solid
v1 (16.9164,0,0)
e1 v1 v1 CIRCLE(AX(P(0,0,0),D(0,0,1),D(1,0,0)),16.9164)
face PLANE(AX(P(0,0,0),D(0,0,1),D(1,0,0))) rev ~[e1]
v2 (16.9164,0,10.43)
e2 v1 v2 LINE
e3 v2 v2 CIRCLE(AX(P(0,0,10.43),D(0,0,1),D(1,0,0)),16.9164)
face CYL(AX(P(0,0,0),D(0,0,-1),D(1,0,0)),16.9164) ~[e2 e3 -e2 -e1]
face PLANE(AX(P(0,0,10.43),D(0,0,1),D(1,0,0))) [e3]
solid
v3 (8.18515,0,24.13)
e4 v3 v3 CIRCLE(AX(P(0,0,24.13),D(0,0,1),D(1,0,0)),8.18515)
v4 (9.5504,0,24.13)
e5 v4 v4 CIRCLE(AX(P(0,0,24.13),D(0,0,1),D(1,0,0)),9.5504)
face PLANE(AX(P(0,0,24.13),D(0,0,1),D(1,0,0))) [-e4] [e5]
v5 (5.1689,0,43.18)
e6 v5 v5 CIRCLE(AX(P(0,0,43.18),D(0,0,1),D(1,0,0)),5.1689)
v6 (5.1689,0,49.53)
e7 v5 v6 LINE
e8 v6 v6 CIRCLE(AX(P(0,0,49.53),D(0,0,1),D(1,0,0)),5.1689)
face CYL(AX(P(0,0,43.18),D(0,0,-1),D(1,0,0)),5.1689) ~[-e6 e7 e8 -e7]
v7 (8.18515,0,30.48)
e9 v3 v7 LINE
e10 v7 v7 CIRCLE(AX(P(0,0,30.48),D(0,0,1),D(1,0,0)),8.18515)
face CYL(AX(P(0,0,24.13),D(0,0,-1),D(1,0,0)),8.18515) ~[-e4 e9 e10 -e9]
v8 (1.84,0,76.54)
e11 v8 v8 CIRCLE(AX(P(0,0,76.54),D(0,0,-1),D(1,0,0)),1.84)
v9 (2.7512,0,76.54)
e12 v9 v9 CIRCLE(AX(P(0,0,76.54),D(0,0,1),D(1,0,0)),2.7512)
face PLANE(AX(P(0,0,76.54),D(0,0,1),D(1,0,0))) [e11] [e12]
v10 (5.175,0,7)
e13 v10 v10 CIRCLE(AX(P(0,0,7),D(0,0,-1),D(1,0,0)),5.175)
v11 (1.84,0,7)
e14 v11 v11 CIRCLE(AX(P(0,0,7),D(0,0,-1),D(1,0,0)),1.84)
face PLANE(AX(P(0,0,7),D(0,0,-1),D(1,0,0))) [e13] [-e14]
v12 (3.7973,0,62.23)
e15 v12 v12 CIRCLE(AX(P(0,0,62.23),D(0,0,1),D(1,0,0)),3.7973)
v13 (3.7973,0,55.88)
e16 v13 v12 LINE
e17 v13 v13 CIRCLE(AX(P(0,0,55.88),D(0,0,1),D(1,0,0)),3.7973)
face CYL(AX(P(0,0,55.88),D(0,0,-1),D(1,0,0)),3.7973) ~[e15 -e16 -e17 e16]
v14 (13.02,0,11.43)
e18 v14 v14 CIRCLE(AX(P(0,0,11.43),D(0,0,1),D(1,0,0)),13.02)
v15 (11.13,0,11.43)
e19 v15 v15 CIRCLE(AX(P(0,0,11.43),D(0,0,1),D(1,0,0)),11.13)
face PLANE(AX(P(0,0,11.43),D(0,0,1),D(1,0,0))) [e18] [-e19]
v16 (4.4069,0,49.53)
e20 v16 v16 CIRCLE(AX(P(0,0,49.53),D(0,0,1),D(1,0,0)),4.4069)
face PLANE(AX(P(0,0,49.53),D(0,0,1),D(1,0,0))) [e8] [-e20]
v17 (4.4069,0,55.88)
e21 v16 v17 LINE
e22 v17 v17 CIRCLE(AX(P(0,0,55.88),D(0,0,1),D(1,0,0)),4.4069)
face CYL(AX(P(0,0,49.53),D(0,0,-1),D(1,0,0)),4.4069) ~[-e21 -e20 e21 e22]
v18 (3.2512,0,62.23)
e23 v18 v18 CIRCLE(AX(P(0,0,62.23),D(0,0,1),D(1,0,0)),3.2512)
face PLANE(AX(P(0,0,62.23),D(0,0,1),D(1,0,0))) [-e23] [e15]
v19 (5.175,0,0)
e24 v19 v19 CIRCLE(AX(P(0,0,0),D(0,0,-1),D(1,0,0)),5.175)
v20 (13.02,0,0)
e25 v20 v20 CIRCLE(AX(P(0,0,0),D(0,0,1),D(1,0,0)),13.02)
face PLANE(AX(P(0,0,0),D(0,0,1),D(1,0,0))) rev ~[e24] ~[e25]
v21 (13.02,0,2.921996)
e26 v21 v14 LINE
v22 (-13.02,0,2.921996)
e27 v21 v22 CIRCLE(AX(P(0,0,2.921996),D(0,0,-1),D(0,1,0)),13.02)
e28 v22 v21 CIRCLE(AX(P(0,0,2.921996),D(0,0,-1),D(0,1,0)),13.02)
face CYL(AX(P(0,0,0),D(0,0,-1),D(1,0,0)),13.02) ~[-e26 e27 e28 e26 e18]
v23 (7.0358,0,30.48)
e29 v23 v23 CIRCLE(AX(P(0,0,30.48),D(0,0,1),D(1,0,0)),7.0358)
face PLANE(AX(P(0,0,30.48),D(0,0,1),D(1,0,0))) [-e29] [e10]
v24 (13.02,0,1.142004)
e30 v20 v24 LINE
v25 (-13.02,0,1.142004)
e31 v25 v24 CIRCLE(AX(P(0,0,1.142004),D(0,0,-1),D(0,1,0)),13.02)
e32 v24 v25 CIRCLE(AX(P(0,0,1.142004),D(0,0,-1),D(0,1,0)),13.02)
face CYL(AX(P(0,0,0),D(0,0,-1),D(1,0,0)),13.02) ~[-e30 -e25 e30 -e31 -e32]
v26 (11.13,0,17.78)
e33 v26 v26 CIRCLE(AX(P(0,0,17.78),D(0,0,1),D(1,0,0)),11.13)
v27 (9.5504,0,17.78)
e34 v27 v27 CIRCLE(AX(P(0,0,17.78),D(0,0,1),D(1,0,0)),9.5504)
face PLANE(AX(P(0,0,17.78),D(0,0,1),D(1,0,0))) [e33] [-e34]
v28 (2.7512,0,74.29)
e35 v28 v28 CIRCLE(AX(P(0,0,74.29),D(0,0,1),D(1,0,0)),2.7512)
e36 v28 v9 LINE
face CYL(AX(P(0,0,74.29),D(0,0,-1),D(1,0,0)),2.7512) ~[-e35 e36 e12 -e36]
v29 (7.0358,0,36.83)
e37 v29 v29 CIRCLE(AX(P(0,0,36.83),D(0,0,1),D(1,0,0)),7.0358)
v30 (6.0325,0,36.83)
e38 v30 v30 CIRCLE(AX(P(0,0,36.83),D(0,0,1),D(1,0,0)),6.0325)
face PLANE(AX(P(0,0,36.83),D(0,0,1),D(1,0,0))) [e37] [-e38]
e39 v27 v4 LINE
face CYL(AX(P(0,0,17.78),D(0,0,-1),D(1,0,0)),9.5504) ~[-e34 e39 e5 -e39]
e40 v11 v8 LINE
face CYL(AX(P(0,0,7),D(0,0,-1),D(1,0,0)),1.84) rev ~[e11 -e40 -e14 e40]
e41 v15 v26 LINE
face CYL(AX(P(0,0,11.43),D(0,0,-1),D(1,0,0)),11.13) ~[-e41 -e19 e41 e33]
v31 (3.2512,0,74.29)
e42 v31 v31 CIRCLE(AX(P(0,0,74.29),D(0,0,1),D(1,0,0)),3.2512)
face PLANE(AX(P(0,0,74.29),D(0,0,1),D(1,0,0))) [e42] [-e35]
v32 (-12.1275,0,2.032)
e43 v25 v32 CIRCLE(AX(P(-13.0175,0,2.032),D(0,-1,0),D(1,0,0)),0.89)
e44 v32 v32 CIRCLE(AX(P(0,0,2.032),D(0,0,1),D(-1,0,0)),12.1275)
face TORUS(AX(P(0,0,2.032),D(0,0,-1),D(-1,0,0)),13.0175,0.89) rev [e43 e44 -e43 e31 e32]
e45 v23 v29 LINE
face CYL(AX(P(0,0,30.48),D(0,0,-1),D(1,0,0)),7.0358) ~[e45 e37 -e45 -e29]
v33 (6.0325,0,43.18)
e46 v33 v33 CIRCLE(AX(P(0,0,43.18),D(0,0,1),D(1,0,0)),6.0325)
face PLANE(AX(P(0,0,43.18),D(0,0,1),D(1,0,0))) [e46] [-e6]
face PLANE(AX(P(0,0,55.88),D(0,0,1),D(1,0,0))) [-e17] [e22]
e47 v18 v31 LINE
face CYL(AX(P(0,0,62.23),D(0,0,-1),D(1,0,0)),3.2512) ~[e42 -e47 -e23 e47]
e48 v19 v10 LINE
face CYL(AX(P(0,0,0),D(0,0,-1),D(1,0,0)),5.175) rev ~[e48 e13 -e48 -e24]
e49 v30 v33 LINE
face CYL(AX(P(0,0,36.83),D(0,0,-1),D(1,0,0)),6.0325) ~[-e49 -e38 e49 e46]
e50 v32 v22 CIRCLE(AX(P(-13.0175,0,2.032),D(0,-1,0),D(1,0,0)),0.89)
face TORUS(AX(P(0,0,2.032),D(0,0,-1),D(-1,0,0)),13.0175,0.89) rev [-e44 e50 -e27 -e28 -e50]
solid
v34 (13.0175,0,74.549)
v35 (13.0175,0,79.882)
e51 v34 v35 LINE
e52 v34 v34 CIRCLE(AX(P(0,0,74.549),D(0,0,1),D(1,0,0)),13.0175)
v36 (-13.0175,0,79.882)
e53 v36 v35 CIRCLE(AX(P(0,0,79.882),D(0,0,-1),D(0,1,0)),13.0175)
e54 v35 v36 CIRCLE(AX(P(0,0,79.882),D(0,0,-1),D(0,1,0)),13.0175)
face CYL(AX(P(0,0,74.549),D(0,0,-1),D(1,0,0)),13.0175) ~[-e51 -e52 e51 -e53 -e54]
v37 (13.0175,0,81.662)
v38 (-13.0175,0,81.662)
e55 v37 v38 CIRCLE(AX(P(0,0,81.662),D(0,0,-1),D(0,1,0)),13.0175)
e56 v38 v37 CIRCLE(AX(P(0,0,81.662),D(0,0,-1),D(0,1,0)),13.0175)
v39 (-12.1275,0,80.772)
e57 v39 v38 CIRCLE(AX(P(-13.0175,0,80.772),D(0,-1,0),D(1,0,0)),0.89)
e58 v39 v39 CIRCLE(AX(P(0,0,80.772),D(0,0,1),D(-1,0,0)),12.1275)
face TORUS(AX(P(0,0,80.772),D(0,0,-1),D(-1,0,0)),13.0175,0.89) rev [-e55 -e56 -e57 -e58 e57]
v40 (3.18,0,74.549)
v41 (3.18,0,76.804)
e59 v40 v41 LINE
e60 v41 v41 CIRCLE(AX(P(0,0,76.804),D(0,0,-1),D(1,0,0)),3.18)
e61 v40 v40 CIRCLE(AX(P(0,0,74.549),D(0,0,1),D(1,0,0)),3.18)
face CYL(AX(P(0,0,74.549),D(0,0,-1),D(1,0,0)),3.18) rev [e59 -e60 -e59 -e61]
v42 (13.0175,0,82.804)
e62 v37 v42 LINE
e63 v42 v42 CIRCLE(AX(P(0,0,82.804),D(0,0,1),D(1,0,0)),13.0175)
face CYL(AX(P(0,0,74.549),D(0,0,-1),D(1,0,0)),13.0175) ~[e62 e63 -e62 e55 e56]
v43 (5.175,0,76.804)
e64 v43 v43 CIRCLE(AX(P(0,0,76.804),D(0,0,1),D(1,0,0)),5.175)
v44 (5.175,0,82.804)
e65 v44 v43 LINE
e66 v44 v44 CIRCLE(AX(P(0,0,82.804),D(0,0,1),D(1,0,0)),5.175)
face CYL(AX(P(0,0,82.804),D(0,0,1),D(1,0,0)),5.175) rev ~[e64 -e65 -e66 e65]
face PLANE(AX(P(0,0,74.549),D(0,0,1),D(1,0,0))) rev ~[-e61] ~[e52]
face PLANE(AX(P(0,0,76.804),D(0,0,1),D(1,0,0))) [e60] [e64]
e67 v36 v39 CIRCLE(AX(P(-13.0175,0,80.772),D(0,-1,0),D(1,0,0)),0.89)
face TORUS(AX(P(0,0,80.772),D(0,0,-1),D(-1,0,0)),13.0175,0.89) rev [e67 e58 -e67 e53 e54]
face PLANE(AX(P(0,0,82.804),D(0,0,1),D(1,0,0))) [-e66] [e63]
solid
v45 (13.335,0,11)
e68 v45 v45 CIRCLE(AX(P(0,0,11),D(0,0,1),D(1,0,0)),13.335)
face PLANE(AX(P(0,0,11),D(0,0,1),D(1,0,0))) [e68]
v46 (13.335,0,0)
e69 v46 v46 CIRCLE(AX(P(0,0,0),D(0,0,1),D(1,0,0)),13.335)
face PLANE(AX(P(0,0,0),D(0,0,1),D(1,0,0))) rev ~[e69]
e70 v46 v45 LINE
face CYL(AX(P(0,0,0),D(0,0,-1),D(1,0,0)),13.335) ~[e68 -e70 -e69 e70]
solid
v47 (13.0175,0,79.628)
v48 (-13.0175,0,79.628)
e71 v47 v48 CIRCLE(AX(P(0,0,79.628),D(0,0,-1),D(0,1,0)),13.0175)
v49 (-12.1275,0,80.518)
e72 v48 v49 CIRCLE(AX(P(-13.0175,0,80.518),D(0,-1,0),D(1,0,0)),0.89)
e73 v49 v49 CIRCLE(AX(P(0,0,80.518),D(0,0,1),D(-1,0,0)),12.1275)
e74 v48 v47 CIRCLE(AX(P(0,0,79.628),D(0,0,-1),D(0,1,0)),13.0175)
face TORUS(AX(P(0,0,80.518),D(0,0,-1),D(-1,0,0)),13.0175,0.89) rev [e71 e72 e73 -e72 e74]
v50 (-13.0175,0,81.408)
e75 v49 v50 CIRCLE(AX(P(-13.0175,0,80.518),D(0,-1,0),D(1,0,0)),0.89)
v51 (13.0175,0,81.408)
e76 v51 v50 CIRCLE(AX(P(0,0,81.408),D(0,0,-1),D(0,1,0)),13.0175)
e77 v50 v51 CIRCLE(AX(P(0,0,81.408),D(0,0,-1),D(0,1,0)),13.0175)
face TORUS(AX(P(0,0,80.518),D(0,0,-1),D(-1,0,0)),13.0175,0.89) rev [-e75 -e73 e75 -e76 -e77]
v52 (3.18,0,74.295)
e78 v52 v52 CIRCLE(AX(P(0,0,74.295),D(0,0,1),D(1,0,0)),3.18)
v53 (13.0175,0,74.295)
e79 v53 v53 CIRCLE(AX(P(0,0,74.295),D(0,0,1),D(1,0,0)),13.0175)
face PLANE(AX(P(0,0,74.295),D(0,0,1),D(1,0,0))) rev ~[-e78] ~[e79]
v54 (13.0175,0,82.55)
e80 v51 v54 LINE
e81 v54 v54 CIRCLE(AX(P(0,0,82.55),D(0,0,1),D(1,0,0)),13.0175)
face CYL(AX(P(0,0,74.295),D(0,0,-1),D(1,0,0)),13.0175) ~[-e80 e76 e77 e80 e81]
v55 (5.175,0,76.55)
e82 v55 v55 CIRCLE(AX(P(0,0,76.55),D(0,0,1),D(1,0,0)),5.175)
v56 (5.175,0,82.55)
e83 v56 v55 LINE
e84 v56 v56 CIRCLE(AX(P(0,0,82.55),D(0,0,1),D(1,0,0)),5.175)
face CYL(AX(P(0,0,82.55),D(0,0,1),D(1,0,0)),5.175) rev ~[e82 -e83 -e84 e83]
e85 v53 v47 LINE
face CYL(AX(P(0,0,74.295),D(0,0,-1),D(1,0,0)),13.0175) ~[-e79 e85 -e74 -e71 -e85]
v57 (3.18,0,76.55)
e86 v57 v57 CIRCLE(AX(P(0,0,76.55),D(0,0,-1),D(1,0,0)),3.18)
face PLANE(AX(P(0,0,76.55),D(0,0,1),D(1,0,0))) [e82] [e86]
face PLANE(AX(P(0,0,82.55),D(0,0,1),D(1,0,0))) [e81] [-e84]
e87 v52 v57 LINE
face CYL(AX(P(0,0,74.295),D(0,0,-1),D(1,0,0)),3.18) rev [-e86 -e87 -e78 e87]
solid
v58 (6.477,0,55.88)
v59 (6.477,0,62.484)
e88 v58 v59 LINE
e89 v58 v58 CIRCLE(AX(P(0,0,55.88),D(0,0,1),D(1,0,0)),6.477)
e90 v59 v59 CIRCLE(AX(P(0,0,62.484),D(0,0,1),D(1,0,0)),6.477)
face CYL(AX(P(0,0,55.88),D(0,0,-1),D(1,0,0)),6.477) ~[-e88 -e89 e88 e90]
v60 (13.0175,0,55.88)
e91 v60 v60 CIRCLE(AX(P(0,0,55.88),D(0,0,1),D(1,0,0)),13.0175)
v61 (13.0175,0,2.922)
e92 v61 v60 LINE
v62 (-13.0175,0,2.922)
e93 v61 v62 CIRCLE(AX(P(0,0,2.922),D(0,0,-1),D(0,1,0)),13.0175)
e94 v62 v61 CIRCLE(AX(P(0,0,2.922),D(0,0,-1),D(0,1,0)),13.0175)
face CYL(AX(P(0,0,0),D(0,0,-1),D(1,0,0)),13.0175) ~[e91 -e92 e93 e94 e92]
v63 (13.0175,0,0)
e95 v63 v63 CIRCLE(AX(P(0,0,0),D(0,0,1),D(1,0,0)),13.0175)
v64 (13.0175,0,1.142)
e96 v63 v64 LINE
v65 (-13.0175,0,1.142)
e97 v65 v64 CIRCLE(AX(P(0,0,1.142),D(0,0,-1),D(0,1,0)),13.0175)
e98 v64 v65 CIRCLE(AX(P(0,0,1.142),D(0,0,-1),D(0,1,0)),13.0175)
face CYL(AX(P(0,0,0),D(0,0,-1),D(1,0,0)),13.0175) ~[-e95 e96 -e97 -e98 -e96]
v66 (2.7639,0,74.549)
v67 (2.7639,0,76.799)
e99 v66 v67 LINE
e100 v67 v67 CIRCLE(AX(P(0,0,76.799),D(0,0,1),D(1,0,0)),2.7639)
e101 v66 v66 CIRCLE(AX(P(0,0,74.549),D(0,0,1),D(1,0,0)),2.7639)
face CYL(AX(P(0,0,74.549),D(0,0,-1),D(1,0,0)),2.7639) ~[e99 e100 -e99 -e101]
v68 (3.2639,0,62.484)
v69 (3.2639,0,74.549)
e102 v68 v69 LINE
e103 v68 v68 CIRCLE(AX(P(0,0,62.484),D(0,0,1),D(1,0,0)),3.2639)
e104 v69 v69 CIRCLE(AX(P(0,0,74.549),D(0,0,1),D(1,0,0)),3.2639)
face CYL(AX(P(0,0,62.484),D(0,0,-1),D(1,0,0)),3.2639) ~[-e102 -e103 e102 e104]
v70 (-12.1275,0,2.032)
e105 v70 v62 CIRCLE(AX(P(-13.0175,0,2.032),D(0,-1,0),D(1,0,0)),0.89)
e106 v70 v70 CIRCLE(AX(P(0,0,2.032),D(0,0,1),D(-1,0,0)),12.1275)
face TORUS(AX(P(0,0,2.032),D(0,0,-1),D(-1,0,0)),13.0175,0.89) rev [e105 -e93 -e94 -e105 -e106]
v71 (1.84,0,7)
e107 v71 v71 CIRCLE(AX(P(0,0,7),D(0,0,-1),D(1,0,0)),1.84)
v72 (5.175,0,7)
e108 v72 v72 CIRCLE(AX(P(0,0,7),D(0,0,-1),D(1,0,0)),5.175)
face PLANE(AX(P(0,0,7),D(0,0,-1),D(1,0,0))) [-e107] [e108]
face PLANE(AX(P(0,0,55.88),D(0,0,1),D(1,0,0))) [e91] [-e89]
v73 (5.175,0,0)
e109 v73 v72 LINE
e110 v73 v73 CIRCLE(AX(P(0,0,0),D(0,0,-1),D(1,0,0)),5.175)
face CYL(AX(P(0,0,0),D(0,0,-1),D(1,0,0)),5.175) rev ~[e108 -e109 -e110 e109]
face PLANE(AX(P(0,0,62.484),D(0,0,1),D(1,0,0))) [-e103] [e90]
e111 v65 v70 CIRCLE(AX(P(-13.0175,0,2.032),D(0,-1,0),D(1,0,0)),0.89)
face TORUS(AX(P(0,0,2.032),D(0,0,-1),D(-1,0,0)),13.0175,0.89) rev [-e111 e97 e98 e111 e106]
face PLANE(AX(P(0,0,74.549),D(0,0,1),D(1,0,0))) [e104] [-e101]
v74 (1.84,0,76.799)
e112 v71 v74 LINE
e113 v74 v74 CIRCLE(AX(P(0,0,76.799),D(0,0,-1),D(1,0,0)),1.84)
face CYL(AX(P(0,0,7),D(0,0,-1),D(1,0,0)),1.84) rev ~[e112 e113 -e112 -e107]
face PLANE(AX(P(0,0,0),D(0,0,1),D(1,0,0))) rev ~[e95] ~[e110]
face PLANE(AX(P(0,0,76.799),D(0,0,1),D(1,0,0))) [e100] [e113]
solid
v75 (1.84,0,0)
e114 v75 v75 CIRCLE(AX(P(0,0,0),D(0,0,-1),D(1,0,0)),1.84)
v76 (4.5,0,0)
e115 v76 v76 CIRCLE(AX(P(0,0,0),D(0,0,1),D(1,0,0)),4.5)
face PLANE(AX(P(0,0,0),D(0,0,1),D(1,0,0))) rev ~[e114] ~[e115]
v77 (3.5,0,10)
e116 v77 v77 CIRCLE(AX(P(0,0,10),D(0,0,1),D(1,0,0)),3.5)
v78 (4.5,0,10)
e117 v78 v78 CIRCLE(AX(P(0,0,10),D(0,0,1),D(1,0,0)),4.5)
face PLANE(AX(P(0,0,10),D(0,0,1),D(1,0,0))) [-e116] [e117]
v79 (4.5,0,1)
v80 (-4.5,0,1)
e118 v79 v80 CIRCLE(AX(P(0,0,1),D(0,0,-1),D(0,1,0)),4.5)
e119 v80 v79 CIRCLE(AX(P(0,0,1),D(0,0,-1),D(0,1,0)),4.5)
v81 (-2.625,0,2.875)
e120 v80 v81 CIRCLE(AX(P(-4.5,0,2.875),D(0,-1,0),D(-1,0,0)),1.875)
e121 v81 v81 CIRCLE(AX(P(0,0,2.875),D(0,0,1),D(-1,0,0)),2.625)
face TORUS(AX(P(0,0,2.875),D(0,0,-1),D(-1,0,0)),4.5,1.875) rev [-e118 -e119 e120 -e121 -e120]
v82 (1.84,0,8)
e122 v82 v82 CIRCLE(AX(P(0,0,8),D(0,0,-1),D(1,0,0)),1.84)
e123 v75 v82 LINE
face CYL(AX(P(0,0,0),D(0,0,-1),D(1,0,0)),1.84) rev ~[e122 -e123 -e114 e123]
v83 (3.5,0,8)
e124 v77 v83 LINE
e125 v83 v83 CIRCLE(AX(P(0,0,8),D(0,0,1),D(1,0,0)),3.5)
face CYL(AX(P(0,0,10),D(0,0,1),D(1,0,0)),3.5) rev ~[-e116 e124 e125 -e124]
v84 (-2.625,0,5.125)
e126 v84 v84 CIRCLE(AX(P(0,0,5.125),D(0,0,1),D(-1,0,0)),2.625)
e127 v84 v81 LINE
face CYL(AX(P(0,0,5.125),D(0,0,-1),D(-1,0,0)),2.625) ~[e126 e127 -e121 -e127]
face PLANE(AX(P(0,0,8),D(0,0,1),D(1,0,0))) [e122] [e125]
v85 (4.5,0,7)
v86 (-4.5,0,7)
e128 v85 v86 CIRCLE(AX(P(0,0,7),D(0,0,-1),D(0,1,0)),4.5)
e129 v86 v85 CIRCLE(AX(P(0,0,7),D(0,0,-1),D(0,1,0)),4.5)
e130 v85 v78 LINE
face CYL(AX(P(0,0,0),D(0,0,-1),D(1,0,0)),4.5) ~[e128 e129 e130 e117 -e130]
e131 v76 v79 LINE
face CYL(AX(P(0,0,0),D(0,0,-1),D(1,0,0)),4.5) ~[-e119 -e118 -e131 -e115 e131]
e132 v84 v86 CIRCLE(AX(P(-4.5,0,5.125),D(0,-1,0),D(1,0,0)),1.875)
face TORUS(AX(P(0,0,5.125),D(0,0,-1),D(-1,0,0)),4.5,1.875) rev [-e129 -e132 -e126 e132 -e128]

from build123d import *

# Parameters (mm, degrees)
SKETCH_R        = 13.02
PAD_DEPTH       = 11.43
SKETCH001_R     = 11.13
PAD001_DEPTH    = 6.35
SKETCH002_R     = 9.5504
PAD002_DEPTH    = 6.35
SKETCH003_R     = 8.18515
PAD003_DEPTH    = 6.35
SKETCH004_R     = 7.0358
PAD004_DEPTH    = 6.35
SKETCH005_R     = 6.0325
PAD005_DEPTH    = 6.35
SKETCH006_R     = 5.1689
PAD006_DEPTH    = 6.35
SKETCH007_R     = 4.4069
PAD007_DEPTH    = 6.35
SKETCH008_R     = 3.7973
PAD008_DEPTH    = 6.35
SKETCH009_R     = 3.2512
PAD009_DEPTH    = 12.06
SKETCH010_R     = 2.7512
PAD010_DEPTH    = 2.25
SKETCH011_R     = 5.175
POCKET_DEPTH    = 7
SKETCH012_R     = 1.84
POCKET001_DEPTH = 69.541
SKETCH015_R     = 0.89
SKETCH013_R     = 13.0175
SKETCH013_R_2   = 3.18
PAD011_DEPTH    = 8.255
SKETCH014_R     = 5.175
POCKET002_DEPTH = 6
SKETCH016_R     = 0.89
SKETCH017_R     = 13.0175
PAD012_DEPTH    = 55.88
SKETCH018_R     = 6.477
PAD013_DEPTH    = 6.604
SKETCH019_R     = 3.2639
PAD014_DEPTH    = 12.065
SKETCH020_R     = 2.7639
PAD015_DEPTH    = 2.25
SKETCH021_R     = 5.175
POCKET003_DEPTH = 7
SKETCH022_R     = 1.84
POCKET004_DEPTH = 69.8
SKETCH023_R     = 0.89
SKETCH024_R     = 13.0175
SKETCH024_R_2   = 3.18
PAD016_DEPTH    = 8.255
SKETCH025_R     = 5.175
POCKET005_DEPTH = 6
SKETCH026_R     = 0.89
SKETCH027_R     = 13.335
PAD017_DEPTH    = 11
SKETCH033_R     = 16.9164
PAD019_DEPTH    = 10.43
SKETCH038_R     = 4.5
PAD021_DEPTH    = 10
SKETCH039_R     = 1.84
POCKET010_DEPTH = 10.001
SKETCH040_R     = 3.5
POCKET011_DEPTH = 2


with BuildPart() as body:
    # Sketch → Pad (new body)
    with BuildSketch(Plane.XY):
        Circle(SKETCH_R)
    extrude(amount=PAD_DEPTH)

    # Sketch001 (on Face3 of Pad) → Pad001 (join)
    with BuildSketch(Plane.XY.offset(11.43)):
        Circle(SKETCH001_R)
    extrude(amount=PAD001_DEPTH)

    # Sketch002 (on Face5 of Pad001) → Pad002 (join)
    with BuildSketch(Plane.XY.offset(17.78)):
        Circle(SKETCH002_R)
    extrude(amount=PAD002_DEPTH)

    # Sketch003 (on Face7 of Pad002) → Pad003 (join)
    with BuildSketch(Plane.XY.offset(24.13)):
        Circle(SKETCH003_R)
    extrude(amount=PAD003_DEPTH)

    # Sketch004 (on Face9 of Pad003) → Pad004 (join)
    with BuildSketch(Plane.XY.offset(30.48)):
        Circle(SKETCH004_R)
    extrude(amount=PAD004_DEPTH)

    # Sketch005 (on Face11 of Pad004) → Pad005 (join)
    with BuildSketch(Plane.XY.offset(36.83)):
        Circle(SKETCH005_R)
    extrude(amount=PAD005_DEPTH)

    # Sketch006 (on Face13 of Pad005) → Pad006 (join)
    with BuildSketch(Plane.XY.offset(43.18)):
        Circle(SKETCH006_R)
    extrude(amount=PAD006_DEPTH)

    # Sketch007 (on Face15 of Pad006) → Pad007 (join)
    with BuildSketch(Plane.XY.offset(49.53)):
        Circle(SKETCH007_R)
    extrude(amount=PAD007_DEPTH)

    # Sketch008 (on Face17 of Pad007) → Pad008 (join)
    with BuildSketch(Plane.XY.offset(55.88)):
        Circle(SKETCH008_R)
    extrude(amount=PAD008_DEPTH)

    # Sketch009 (on Face19 of Pad008) → Pad009 (join)
    with BuildSketch(Plane.XY.offset(62.23)):
        Circle(SKETCH009_R)
    extrude(amount=PAD009_DEPTH)

    # Sketch010 (on Face21 of Pad009) → Pad010 (join)
    with BuildSketch(Plane.XY.offset(74.29)):
        Circle(SKETCH010_R)
    extrude(amount=PAD010_DEPTH)

    # Sketch011 (on Face2 of Pad010) → Pocket (cut)
    with BuildSketch(Plane(origin=(0, 0, 0), x_dir=(1, 0, 0), z_dir=(0, 0, -1))):
        Circle(SKETCH011_R)
    extrude(amount=-POCKET_DEPTH, mode=Mode.SUBTRACT)

    # Sketch012 (on Face6 of Pocket) → Pocket001 (cut, through all)
    with BuildSketch(Plane(origin=(0, 0, 7), x_dir=(1, 0, 0), z_dir=(0, 0, -1))):
        Circle(SKETCH012_R)
    extrude(amount=-POCKET001_DEPTH, mode=Mode.SUBTRACT)

    # Sketch015 → Groove (revolve, cut)
    with BuildSketch(Plane.XZ):
        with Locations((-13.0175, 2.032)):
            Circle(SKETCH015_R)
    revolve(axis=Axis((0, 0, 0), (0, 0, 1)), mode=Mode.SUBTRACT)


with BuildPart() as body001:
    # Sketch013 (on Face1 of CopyPocket001) → Pad011 (new body)
    with BuildSketch(Plane.XY.offset(74.295)):
        Circle(SKETCH013_R)
        Circle(SKETCH013_R_2, mode=Mode.SUBTRACT)
    extrude(amount=PAD011_DEPTH)

    # Sketch014 (on Face4 of Pad011) → Pocket002 (cut)
    with BuildSketch(Plane.XY.offset(82.55)):
        Circle(SKETCH014_R)
    extrude(amount=-POCKET002_DEPTH, mode=Mode.SUBTRACT)

    # Sketch016 → Groove001 (revolve, cut)
    with BuildSketch(Plane.XZ):
        with Locations((-13.0175, 80.518)):
            Circle(SKETCH016_R)
    revolve(axis=Axis((0, 0, 0), (0, 0, 1)), mode=Mode.SUBTRACT)


with BuildPart() as body002:
    # Sketch017 → Pad012 (new body)
    with BuildSketch(Plane.XY):
        Circle(SKETCH017_R)
    extrude(amount=PAD012_DEPTH)

    # Sketch018 (on Face3 of Pad012) → Pad013 (join)
    with BuildSketch(Plane.XY.offset(55.88)):
        Circle(SKETCH018_R)
    extrude(amount=PAD013_DEPTH)

    # Sketch019 (on Face5 of Pad013) → Pad014 (join)
    with BuildSketch(Plane.XY.offset(62.484)):
        Circle(SKETCH019_R)
    extrude(amount=PAD014_DEPTH)

    # Sketch020 (on Face7 of Pad014) → Pad015 (join)
    with BuildSketch(Plane.XY.offset(74.549)):
        Circle(SKETCH020_R)
    extrude(amount=PAD015_DEPTH)

    # Sketch021 (on Face2 of Pad015) → Pocket003 (cut)
    with BuildSketch(Plane(origin=(0, 0, 0), x_dir=(1, 0, 0), z_dir=(0, 0, -1))):
        Circle(SKETCH021_R)
    extrude(amount=-POCKET003_DEPTH, mode=Mode.SUBTRACT)

    # Sketch022 (on Face6 of Pocket003) → Pocket004 (cut, through all)
    with BuildSketch(Plane(origin=(0, 0, 7), x_dir=(1, 0, 0), z_dir=(0, 0, -1))):
        Circle(SKETCH022_R)
    extrude(amount=-POCKET004_DEPTH, mode=Mode.SUBTRACT)

    # Sketch023 → Groove002 (revolve, cut)
    with BuildSketch(Plane.XZ):
        with Locations((-13.0175, 2.032)):
            Circle(SKETCH023_R)
    revolve(axis=Axis((0, 0, 0), (0, 0, 1)), mode=Mode.SUBTRACT)


with BuildPart() as body003:
    # Sketch024 (on Face1 of CopyGroove002) → Pad016 (new body)
    with BuildSketch(Plane.XY.offset(74.549)):
        Circle(SKETCH024_R)
        Circle(SKETCH024_R_2, mode=Mode.SUBTRACT)
    extrude(amount=PAD016_DEPTH)

    # Sketch025 (on Face4 of Pad016) → Pocket005 (cut)
    with BuildSketch(Plane.XY.offset(82.804)):
        Circle(SKETCH025_R)
    extrude(amount=-POCKET005_DEPTH, mode=Mode.SUBTRACT)

    # Sketch026 → Groove003 (revolve, cut)
    with BuildSketch(Plane.XZ):
        with Locations((-13.0175, 80.772)):
            Circle(SKETCH026_R)
    revolve(axis=Axis((0, 0, 0), (0, 0, 1)), mode=Mode.SUBTRACT)


with BuildPart() as wheel_e:
    # Sketch027 → Pad017 (new body)
    with BuildSketch(Plane.XY):
        Circle(SKETCH027_R)
    extrude(amount=PAD017_DEPTH)


with BuildPart() as wheel_c:
    # Sketch033 → Pad019 (new body)
    with BuildSketch(Plane.XY):
        Circle(SKETCH033_R)
    extrude(amount=PAD019_DEPTH)


with BuildPart() as thumb_screw:
    # Sketch038 → Pad021 (new body)
    with BuildSketch(Plane.XY):
        Circle(SKETCH038_R)
    extrude(amount=PAD021_DEPTH)

    # Sketch039 (on Face2 of Pad021) → Pocket010 (cut, through all)
    with BuildSketch(Plane(origin=(0, 0, 0), x_dir=(1, 0, 0), z_dir=(0, 0, -1))):
        Circle(SKETCH039_R)
    extrude(amount=-POCKET010_DEPTH, mode=Mode.SUBTRACT)

    # Sketch040 (on Face3 of Pocket010) → Pocket011 (cut)
    with BuildSketch(Plane.XY.offset(10)):
        Circle(SKETCH040_R)
    extrude(amount=-POCKET011_DEPTH, mode=Mode.SUBTRACT)

    # Sketch041 → Groove006 (revolve, cut)
    with BuildSketch(Plane.XZ):
        with BuildLine():
            ThreePointArc((-2.625, 5.125), (-4.5, 7), (-6.375, 5.125))
            Line((-6.375, 5.125), (-6.375, 2.875))
            ThreePointArc((-6.375, 2.875), (-4.5, 1), (-2.625, 2.875))
            Line((-2.625, 5.125), (-2.625, 2.875))
        make_face()
    revolve(axis=Axis((0, 0, 0), (0, 0, 1)), mode=Mode.SUBTRACT)


solid = Compound([body.part, body001.part, body002.part, body003.part, wheel_e.part, wheel_c.part, thumb_screw.part])
